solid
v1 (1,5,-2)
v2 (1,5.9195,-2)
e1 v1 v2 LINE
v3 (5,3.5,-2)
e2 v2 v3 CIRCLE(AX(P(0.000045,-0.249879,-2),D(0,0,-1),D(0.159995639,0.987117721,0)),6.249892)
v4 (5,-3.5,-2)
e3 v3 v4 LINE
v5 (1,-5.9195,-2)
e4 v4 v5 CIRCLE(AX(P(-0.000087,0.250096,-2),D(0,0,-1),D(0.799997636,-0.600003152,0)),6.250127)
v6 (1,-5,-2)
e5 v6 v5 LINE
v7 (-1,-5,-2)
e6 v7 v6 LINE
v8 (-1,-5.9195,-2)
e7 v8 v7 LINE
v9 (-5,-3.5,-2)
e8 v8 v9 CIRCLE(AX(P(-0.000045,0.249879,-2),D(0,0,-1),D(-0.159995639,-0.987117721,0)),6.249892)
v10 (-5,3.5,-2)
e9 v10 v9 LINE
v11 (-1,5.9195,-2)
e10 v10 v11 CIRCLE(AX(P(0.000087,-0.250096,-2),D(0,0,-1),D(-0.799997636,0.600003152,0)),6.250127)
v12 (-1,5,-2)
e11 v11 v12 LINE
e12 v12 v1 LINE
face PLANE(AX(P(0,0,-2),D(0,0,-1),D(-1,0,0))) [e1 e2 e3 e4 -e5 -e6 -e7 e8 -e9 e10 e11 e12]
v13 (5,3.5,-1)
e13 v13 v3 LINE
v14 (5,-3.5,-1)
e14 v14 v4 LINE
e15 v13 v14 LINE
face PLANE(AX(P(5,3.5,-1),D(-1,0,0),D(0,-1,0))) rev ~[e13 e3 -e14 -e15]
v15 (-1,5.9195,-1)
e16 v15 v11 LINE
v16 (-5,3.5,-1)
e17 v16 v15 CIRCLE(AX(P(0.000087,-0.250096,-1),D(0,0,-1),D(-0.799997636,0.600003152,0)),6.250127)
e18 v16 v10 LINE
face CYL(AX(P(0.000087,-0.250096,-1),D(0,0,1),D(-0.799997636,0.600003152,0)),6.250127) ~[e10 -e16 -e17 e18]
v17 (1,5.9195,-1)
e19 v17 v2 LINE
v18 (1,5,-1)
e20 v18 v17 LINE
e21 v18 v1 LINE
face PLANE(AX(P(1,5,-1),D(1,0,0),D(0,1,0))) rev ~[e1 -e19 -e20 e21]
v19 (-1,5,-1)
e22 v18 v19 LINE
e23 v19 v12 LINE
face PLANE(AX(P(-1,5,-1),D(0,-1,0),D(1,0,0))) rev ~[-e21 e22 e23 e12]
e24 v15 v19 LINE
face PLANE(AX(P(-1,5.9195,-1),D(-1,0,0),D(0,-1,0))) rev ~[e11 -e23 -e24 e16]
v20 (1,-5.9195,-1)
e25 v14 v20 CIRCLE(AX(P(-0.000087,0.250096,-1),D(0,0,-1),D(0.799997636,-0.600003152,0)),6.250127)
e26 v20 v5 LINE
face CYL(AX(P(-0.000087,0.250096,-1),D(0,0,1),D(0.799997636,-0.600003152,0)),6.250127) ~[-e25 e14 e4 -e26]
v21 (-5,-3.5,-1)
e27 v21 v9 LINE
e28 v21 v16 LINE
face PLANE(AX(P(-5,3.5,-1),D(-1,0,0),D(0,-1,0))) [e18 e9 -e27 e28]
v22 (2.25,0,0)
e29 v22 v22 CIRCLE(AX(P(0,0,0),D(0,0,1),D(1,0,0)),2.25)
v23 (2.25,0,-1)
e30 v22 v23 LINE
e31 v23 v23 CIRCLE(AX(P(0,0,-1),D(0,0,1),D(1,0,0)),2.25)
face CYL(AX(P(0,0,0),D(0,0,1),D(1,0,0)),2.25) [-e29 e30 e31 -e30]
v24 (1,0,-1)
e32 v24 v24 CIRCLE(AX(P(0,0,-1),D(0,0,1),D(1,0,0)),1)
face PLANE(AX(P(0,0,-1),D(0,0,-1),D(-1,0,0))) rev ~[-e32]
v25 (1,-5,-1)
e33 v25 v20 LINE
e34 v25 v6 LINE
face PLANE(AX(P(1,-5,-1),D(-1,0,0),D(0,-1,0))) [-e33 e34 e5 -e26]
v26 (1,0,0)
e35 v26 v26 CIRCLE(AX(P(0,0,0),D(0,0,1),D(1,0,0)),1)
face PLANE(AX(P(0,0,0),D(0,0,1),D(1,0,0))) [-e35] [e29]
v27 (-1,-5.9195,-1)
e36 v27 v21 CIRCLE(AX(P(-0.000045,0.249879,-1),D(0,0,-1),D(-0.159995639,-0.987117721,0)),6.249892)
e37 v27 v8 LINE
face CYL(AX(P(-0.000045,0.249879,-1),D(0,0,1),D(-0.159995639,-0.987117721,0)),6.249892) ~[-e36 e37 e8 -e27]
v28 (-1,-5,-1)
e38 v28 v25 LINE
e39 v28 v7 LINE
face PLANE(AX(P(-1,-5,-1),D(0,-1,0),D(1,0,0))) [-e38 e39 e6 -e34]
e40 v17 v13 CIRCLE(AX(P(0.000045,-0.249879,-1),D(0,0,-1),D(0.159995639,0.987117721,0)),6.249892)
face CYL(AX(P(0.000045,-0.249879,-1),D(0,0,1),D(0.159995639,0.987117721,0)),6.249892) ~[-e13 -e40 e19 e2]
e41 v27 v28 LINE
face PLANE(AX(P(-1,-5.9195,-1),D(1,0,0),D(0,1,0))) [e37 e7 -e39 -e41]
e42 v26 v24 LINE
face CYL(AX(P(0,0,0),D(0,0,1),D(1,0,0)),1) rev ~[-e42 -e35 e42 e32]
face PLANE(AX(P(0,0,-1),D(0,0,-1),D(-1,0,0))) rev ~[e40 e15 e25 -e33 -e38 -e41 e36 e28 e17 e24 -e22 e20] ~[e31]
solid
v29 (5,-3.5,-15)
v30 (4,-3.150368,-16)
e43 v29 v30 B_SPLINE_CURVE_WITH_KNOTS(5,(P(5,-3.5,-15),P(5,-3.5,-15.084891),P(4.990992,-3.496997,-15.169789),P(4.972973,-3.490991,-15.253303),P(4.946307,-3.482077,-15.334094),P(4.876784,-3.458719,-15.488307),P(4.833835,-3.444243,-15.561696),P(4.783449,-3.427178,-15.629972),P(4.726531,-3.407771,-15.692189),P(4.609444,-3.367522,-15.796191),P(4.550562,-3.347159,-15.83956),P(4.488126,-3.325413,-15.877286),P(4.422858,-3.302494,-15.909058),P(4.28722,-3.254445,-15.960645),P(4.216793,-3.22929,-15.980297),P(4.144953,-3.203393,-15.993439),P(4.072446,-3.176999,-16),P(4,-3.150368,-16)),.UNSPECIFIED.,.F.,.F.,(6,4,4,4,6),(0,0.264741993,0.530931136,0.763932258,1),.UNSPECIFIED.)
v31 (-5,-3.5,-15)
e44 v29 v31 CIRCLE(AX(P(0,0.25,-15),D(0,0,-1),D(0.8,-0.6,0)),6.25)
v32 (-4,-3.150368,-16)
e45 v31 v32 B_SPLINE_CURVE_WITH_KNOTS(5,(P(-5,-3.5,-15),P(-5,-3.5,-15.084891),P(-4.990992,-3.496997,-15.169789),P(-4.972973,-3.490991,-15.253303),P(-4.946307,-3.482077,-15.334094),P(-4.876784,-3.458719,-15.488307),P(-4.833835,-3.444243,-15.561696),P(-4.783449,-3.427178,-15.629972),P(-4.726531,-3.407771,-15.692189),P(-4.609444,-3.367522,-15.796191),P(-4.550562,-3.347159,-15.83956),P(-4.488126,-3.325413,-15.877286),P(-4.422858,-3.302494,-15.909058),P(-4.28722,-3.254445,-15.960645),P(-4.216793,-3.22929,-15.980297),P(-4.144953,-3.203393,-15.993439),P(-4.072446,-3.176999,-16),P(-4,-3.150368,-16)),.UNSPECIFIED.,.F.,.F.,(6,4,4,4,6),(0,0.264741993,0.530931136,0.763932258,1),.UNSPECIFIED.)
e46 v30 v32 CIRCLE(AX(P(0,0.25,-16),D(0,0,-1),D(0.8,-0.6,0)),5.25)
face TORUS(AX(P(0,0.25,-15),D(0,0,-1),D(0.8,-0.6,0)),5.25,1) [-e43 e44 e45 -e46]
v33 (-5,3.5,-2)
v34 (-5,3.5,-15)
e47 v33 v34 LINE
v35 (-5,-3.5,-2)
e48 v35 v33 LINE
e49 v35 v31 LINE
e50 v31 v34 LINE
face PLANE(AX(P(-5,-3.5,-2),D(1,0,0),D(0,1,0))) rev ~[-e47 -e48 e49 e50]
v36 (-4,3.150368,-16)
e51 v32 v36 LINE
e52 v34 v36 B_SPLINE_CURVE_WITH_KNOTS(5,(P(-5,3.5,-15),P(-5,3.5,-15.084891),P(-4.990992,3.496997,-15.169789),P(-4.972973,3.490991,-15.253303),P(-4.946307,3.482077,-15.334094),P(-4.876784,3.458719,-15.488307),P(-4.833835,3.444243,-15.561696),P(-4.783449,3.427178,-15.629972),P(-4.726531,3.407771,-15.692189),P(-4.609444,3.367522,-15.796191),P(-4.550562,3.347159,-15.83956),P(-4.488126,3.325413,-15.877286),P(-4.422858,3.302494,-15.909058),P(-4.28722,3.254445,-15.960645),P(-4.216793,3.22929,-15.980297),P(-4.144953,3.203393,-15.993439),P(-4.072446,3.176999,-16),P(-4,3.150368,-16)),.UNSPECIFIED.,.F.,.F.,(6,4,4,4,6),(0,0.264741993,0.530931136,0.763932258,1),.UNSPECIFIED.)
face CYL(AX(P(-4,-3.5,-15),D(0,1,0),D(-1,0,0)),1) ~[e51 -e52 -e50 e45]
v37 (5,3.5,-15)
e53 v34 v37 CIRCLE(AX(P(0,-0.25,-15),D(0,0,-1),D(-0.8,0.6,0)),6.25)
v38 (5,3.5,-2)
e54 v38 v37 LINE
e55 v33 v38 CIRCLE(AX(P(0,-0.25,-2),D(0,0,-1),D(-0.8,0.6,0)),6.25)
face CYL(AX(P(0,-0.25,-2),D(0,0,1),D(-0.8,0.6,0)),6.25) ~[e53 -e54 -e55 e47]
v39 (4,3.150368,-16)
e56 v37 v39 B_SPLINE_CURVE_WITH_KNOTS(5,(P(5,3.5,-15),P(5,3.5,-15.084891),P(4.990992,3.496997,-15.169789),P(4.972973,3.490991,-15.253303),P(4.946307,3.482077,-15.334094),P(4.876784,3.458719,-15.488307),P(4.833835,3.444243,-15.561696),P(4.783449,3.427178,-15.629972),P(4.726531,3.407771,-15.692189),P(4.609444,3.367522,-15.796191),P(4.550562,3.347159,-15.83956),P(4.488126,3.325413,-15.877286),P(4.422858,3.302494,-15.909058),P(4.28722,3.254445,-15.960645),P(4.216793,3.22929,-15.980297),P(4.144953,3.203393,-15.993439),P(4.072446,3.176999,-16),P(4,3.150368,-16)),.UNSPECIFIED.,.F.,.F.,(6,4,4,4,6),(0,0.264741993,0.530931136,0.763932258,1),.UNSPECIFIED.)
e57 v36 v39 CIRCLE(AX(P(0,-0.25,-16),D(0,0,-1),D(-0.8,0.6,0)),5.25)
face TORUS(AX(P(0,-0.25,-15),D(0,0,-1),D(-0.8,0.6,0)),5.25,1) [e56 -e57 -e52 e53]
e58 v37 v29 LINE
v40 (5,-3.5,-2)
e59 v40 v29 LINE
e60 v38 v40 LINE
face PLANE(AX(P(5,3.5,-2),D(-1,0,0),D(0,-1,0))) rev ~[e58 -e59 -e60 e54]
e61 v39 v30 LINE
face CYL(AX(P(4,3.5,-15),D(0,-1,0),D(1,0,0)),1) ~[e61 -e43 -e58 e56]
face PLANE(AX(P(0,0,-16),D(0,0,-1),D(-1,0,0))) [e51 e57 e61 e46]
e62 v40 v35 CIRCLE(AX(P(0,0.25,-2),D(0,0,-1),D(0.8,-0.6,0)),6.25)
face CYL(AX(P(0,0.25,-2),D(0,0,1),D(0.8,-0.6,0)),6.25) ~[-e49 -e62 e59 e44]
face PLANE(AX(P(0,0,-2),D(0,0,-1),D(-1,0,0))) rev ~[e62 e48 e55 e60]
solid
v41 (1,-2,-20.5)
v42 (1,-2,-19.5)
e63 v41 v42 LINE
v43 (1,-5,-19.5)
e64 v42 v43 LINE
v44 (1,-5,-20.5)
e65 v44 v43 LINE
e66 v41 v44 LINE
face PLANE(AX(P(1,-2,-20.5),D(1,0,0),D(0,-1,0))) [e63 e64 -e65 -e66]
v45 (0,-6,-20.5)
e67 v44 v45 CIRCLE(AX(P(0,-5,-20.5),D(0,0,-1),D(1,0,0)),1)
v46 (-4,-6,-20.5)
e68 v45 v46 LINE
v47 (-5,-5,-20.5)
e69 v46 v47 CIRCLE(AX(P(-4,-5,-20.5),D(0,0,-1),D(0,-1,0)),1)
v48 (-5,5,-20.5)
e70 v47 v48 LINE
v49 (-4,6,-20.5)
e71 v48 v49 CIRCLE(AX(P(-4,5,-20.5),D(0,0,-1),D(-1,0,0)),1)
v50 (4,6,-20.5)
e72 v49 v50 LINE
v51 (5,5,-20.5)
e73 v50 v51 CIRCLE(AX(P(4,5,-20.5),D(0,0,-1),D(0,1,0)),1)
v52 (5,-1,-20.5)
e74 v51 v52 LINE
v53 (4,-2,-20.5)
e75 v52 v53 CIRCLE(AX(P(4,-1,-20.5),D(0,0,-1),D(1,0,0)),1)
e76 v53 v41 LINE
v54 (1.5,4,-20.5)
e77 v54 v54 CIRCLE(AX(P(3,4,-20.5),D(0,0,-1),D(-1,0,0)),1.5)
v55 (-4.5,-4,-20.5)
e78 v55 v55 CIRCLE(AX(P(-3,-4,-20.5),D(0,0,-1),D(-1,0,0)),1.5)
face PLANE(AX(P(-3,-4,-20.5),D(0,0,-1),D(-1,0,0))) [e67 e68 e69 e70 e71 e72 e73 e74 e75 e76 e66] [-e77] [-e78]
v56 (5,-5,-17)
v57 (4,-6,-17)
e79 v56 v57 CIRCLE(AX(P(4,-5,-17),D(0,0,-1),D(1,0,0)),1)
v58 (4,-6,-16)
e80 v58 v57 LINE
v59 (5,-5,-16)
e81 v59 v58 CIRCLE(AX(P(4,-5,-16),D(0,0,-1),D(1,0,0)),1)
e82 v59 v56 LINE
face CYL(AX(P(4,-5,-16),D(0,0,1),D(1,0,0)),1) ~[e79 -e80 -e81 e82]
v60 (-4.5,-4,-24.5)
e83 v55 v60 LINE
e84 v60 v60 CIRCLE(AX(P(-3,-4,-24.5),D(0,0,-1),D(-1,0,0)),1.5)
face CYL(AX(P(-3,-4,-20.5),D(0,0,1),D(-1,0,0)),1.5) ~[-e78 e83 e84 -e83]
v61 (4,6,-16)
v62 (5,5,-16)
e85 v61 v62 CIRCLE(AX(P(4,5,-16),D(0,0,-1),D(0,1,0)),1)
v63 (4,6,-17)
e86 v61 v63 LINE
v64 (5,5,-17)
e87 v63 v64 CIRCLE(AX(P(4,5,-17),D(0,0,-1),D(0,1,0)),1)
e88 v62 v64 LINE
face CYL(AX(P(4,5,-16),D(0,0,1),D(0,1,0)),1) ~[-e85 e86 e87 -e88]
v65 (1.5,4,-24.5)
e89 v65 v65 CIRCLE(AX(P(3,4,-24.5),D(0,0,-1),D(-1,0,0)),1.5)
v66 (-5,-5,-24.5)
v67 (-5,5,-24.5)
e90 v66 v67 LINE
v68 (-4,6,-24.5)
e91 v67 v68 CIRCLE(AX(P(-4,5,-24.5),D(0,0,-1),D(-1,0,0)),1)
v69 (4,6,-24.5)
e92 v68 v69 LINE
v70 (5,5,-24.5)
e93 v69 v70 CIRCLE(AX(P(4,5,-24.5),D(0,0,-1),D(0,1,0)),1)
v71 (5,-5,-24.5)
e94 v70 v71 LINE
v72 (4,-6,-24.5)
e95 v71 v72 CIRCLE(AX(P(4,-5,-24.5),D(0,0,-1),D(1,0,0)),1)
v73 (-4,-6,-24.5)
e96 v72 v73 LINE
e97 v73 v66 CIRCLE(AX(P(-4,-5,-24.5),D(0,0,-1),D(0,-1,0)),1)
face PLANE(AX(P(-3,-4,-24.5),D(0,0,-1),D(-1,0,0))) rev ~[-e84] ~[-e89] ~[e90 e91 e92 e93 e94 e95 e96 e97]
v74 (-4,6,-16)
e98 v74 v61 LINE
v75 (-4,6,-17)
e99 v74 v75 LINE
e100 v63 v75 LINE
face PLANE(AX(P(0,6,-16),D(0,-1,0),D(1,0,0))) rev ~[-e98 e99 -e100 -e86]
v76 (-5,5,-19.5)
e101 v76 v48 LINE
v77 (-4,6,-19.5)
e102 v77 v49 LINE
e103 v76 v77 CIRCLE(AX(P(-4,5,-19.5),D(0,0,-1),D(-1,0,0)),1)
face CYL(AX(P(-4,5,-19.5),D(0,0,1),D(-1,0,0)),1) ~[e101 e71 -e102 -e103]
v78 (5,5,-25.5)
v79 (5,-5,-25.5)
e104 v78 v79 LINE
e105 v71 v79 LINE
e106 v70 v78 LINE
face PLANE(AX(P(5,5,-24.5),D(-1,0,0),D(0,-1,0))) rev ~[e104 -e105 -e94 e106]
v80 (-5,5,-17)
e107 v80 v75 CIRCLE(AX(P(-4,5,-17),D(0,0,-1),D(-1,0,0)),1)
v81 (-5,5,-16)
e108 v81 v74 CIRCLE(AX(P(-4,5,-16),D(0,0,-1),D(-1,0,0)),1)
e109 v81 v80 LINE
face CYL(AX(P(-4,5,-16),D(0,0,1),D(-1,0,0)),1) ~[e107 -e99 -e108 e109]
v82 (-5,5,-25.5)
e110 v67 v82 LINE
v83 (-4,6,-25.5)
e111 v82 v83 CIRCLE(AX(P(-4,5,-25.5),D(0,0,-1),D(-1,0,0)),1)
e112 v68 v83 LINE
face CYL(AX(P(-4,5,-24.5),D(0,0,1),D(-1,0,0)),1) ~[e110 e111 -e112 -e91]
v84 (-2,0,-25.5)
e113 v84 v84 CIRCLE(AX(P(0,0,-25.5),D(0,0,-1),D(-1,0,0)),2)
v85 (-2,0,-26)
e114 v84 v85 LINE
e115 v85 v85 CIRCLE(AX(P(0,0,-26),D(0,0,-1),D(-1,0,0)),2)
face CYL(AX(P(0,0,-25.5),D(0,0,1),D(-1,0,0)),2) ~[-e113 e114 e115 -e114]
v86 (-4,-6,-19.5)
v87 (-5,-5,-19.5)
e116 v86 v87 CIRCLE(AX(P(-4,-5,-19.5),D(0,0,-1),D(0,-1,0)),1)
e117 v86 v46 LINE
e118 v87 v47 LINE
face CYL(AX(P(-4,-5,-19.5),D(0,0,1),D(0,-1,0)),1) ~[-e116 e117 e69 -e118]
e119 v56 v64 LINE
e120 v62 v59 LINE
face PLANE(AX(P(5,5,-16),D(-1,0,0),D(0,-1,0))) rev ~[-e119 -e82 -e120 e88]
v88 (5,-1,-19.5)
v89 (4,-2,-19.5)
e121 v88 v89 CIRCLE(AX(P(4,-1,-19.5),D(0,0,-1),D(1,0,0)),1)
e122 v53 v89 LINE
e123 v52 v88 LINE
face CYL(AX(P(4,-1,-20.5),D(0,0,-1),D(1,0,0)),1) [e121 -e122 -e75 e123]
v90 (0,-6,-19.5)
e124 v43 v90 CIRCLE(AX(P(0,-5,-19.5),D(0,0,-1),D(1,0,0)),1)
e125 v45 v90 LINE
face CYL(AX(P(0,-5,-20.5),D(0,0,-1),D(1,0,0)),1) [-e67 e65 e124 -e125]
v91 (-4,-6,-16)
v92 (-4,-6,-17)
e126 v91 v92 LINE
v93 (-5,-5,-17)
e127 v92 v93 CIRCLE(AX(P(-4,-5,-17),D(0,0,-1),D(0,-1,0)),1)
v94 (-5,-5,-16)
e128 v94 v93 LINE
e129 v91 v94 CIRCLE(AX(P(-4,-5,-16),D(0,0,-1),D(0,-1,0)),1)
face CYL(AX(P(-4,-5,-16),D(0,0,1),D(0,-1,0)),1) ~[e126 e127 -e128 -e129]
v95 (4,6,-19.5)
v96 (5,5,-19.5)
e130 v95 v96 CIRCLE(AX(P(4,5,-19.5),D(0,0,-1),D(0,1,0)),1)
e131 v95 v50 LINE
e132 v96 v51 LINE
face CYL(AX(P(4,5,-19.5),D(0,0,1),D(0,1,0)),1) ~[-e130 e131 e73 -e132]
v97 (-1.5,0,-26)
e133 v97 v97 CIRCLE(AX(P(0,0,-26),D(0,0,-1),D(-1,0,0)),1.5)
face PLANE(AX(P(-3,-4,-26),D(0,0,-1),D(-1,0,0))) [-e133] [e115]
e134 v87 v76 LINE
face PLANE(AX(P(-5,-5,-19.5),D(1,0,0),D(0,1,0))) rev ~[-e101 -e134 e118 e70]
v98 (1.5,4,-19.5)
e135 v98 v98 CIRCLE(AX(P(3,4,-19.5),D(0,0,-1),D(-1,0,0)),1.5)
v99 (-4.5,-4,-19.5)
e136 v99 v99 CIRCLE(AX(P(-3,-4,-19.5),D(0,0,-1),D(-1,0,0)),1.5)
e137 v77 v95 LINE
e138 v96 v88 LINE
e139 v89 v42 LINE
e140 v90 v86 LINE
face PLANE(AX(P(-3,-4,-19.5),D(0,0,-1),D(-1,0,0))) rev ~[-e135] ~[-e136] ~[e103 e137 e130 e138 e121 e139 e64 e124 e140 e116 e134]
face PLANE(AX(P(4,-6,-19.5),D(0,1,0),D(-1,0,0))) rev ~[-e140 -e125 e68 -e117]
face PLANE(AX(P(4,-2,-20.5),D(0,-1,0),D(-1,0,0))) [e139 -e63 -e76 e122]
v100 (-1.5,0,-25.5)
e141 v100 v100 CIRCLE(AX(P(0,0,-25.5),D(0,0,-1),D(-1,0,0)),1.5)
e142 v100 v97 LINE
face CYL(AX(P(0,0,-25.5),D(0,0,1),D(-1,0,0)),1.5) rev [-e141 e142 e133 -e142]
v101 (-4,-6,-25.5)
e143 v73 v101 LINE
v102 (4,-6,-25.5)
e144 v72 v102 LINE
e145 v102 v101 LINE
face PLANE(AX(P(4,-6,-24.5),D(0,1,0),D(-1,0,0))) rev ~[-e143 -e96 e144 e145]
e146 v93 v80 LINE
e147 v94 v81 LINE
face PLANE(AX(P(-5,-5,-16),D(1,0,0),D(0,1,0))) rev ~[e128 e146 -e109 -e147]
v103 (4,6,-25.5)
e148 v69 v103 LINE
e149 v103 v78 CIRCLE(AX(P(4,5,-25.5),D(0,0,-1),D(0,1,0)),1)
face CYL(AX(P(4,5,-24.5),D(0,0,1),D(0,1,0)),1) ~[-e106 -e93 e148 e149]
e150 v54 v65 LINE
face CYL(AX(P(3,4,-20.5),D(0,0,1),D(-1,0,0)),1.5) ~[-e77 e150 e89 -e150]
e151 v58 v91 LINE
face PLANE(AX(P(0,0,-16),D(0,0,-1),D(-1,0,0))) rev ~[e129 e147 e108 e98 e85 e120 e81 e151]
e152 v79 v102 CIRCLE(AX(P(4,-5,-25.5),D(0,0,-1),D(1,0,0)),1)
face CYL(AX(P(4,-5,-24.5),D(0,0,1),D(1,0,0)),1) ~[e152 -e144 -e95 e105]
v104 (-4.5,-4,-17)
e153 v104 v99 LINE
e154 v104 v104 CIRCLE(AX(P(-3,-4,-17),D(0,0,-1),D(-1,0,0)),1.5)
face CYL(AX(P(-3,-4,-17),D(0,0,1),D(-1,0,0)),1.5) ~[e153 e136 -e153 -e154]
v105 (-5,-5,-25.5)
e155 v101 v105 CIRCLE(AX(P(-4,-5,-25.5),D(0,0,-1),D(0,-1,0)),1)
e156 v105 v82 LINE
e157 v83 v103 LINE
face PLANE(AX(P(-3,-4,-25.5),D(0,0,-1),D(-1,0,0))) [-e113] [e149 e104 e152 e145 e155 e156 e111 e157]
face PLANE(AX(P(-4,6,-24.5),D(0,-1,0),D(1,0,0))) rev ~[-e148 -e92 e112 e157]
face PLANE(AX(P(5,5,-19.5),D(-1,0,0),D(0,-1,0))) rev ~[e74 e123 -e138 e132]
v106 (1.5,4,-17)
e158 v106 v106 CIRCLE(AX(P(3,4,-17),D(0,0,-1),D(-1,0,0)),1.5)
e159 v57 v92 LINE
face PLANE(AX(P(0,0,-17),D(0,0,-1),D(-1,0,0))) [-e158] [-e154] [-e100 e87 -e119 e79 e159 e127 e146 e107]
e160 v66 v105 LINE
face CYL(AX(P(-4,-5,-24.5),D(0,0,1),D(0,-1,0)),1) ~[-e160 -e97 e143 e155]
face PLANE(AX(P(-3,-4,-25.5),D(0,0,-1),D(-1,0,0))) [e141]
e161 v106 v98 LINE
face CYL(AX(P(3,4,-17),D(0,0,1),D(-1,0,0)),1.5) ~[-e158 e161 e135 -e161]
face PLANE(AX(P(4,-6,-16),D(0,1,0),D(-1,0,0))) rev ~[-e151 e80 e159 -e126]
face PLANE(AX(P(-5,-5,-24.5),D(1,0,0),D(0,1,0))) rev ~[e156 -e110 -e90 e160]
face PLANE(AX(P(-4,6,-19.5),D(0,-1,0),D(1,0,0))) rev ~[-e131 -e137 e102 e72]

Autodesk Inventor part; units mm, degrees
ref_plane "YZ Plane" through (0, 0, 0) normal (1, 0, 0) x (0, 1, 0)
ref_plane "XZ Plane" through (0, 0, 0) normal (0, 1, 0) x (-1, 0, 0)
ref_plane "XY Plane" through (0, 0, 0) normal (0, 0, 1) x (1, 0, 0)
sketch "草图1" plane through (0, 0, 0) normal (0, 0, 1) x (1, 0, 0)
  circle A0 centre (0, 0) radius 2.25
  circle A1 centre (0, 0) radius 1
  dimension "d0" = 4.5
  dimension "d1" = 2
extrude "拉伸1" add sketch "草图1" against normal blind 1
sketch "草图2" plane through (0, 0, -1) normal (0, 0, -1) x (-1, 0, 0)
  line L0 (5, 3.5) -> (5, -3.5)
  line L1 (-5, 3.5) -> (-5, -3.5)
  line L2 (5, -3.5) -> (-5, -3.5) construction
  line L3 (5, 3.5) -> (-5, 3.5) construction
  line L4 (0, 0) -> (0, 19.9498)
  line L5 (0, 0) -> (7.1401, 0)
  line L6 (1, 5.9195) -> (1, 5)
  line L7 (1, 5) -> (-1, 5)
  line L8 (-1, 5) -> (-1, 5.9195)
  arc A0 (5, 3.5) -> (1, 5.9195) centre (0, -0.25) ccw
  arc A1 (-1, 5.9195) -> (-5, 3.5) centre (0, -0.25) ccw
  line L9 (1, -5.9195) -> (1, -5)
  line L10 (1, -5) -> (-1, -5)
  line L11 (-1, -5) -> (-1, -5.9195)
  arc A2 (-5, -3.5) -> (-1, -5.9195) centre (0, 0.25) ccw
  arc A3 (1, -5.9195) -> (5, -3.5) centre (0, 0.25) ccw
  point P0 (0, 6)
  point P1 (0, 6)
  dimension "d4" = 10
  dimension "d7" = 7
  dimension "d8" = 6
  dimension "d9" = 1
  dimension "d10" = 2
extrude "拉伸2" add sketch "草图2" along normal blind 1
sketch "草图3" plane through (0, 0, -2) normal (0, 0, -1) x (-1, 0, 0)
  line L0 (1, 5) -> (-1, 5) construction
  line L1 (-1, 5) -> (-1, 5.9195) construction
  arc A0 (-1, 5.9195) -> (-5, 3.5) centre (0, -0.25) ccw construction
  line L2 (-5, 3.5) -> (-5, -3.5) projected
  arc A1 (-5, -3.5) -> (-1, -5.9195) centre (0, 0.25) ccw construction
  line L3 (-1, -5.9195) -> (-1, -5) construction
  line L4 (-1, -5) -> (1, -5) construction
  line L5 (1, -5) -> (1, -5.9195) construction
  arc A2 (1, -5.9195) -> (5, -3.5) centre (0, 0.25) ccw construction
  line L6 (5, -3.5) -> (5, 3.5) projected
  arc A3 (5, 3.5) -> (1, 5.9195) centre (0, -0.25) ccw construction
  line L7 (1, 5.9195) -> (1, 5) construction
  arc A4 (5, 3.5) -> (-5, 3.5) centre (0, -0.25) ccw
  line L8 (0, 0) -> (3.3982, 0)
  arc A5 (-5, -3.5) -> (5, -3.5) centre (0, 0.25) ccw
extrude "拉伸3" add sketch "草图3" along normal blind 14 separate body
fillet "圆角1" radius 1 4 edges at (0, 6, -16) (-5, 0, -16) (0, -6, -16) (5, 0, -16)
sketch "草图4" plane through (0, 0, -16) normal (0, 0, -1) x (-1, 0, 0)
  line L0 (-5, 5) -> (-5, -5)
  line L1 (-4, -6) -> (4, -6)
  line L2 (5, -5) -> (5, 5)
  line L3 (4, 6) -> (-4, 6)
  line L4 (0, 0) -> (0, 19.5528)
  line L5 (0, 0) -> (-9.7016, 0)
  arc A0 (-5, -5) -> (-4, -6) centre (-4, -5) ccw
  arc A1 (-4, 6) -> (-5, 5) centre (-4, 5) ccw
  arc A2 (5, 5) -> (4, 6) centre (4, 5) ccw
  arc A3 (4, -6) -> (5, -5) centre (4, -5) ccw
  dimension "d16" = 1
  dimension "d17" = 10
  dimension "d18" = 12
extrude "拉伸4" add sketch "草图4" along normal blind 1 separate body
sketch "草图5" plane through (0, 0, -17) normal (0, 0, -1) x (-1, 0, 0)
  circle A0 centre (3, -4) radius 1.5
  circle A1 centre (-3, 4) radius 1.5
  line L0 (5, -5) -> (5, 5) projected
  line L1 (-4, -6) -> (4, -6) projected
  line L2 (4, 6) -> (-4, 6) projected
  line L3 (-5, 5) -> (-5, -5) projected
  point P0 (0, 0)
  dimension "d21" = 3
  dimension "d22" = 2
  dimension "d23" = 2
  dimension "d24" = 2
  dimension "d25" = 2
extrude "拉伸5" add sketch "草图5" along normal blind 2.5 bodies 3
sketch "草图6" plane through (-3, -4, -19.5) normal (0, 0, -1) x (-1, 0, 0)
  circle A0 centre (-6, 8) radius 1.5 construction
  circle A1 centre (0, 0) radius 1.5 construction
  line L0 (-8, 9) -> (-8, -1) projected
  arc A2 (-8, -1) -> (-7, -2) centre (-7, -1) ccw projected
  line L1 (-7, -2) -> (1, -2) projected
  arc A3 (1, -2) -> (2, -1) centre (1, -1) ccw projected
  line L2 (2, -1) -> (2, 9) projected
  arc A4 (2, 9) -> (1, 10) centre (1, 9) ccw projected
  line L3 (1, 10) -> (-7, 10) projected
  arc A5 (-7, 10) -> (-8, 9) centre (-7, 9) ccw projected
  point P0 (-3, 4)
extrude "拉伸6" add sketch "草图6" along normal blind 1 bodies 3
sketch "草图7" plane through (-3, -4, -20.5) normal (0, 0, -1) x (-1, 0, 0)
  circle A0 centre (0, 0) radius 1.5 projected
  circle A1 centre (-6, 8) radius 1.5 projected
  point P0 (-3, 4)
extrude "拉伸7" add sketch "草图7" along normal blind 4 bodies 3
sketch "草图8" plane through (-3, -4, -24.5) normal (0, 0, -1) x (-1, 0, 0)
  circle A0 centre (-6, 8) radius 1.5 construction
  circle A1 centre (0, 0) radius 1.5 construction
  arc A2 (-8, -1) -> (-7, -2) centre (-7, -1) ccw projected
  line L0 (-7, -2) -> (1, -2) projected
  arc A3 (1, -2) -> (2, -1) centre (1, -1) ccw projected
  line L1 (2, -1) -> (2, 9) projected
  arc A4 (2, 9) -> (1, 10) centre (1, 9) ccw projected
  line L2 (1, 10) -> (-7, 10) projected
  arc A5 (-7, 10) -> (-8, 9) centre (-7, 9) ccw projected
  line L3 (-8, 9) -> (-8, -1) projected
  point P0 (-3, 4)
extrude "拉伸8" add sketch "草图8" along normal blind 1 bodies 3
sketch "草图9" plane through (-3, -4, -25.5) normal (0, 0, -1) x (-1, 0, 0)
  circle A0 centre (-3, 4) radius 1 projected
  circle A1 centre (-3, 4) radius 2
  circle A2 centre (-3, 4) radius 1.5
  dimension "d34" = 4
  dimension "d35" = 3
extrude "拉伸9" add sketch "草图9" along normal blind 0.5 contours A1 bodies 3
sketch "草图11" plane through (-3, -4, -20.5) normal (0, 0, -1) x (-1, 0, 0)
  line L0 (-7, 2) -> (-4, 2)
  line L1 (-4, 2) -> (-4, -1)
  line L2 (-7, -2) -> (1, -2) construction
  line L3 (-7, -2) -> (1, -2) projected
  arc A0 (-4, -1) -> (-3, -2) centre (-3, -1) ccw
  arc A1 (-8, 3) -> (-7, 2) centre (-7, 3) ccw
  arc A2 (-8, -1) -> (-7, -2) centre (-7, -1) ccw projected
  line L4 (-3, -2) -> (-7, -2)
  arc A3 (-8, 0.5) -> (2, 0.5) centre (-3, 4.25) ccw construction
  line L5 (-8, 9) -> (-8, -1) construction
  line L6 (-8, 3) -> (-8, -1)
  point P0 (-3, 4)
  point P1 (-8, 2)
  point P2 (-4, -2)
  dimension "d45" = 4
  dimension "d46" = 1
  dimension "d47" = 1
extrude "拉伸12" cut sketch "草图11" against normal blind 1.5 bodies 3
properties part number "GA12-N20微型减速直流电机3V_15RPM"
